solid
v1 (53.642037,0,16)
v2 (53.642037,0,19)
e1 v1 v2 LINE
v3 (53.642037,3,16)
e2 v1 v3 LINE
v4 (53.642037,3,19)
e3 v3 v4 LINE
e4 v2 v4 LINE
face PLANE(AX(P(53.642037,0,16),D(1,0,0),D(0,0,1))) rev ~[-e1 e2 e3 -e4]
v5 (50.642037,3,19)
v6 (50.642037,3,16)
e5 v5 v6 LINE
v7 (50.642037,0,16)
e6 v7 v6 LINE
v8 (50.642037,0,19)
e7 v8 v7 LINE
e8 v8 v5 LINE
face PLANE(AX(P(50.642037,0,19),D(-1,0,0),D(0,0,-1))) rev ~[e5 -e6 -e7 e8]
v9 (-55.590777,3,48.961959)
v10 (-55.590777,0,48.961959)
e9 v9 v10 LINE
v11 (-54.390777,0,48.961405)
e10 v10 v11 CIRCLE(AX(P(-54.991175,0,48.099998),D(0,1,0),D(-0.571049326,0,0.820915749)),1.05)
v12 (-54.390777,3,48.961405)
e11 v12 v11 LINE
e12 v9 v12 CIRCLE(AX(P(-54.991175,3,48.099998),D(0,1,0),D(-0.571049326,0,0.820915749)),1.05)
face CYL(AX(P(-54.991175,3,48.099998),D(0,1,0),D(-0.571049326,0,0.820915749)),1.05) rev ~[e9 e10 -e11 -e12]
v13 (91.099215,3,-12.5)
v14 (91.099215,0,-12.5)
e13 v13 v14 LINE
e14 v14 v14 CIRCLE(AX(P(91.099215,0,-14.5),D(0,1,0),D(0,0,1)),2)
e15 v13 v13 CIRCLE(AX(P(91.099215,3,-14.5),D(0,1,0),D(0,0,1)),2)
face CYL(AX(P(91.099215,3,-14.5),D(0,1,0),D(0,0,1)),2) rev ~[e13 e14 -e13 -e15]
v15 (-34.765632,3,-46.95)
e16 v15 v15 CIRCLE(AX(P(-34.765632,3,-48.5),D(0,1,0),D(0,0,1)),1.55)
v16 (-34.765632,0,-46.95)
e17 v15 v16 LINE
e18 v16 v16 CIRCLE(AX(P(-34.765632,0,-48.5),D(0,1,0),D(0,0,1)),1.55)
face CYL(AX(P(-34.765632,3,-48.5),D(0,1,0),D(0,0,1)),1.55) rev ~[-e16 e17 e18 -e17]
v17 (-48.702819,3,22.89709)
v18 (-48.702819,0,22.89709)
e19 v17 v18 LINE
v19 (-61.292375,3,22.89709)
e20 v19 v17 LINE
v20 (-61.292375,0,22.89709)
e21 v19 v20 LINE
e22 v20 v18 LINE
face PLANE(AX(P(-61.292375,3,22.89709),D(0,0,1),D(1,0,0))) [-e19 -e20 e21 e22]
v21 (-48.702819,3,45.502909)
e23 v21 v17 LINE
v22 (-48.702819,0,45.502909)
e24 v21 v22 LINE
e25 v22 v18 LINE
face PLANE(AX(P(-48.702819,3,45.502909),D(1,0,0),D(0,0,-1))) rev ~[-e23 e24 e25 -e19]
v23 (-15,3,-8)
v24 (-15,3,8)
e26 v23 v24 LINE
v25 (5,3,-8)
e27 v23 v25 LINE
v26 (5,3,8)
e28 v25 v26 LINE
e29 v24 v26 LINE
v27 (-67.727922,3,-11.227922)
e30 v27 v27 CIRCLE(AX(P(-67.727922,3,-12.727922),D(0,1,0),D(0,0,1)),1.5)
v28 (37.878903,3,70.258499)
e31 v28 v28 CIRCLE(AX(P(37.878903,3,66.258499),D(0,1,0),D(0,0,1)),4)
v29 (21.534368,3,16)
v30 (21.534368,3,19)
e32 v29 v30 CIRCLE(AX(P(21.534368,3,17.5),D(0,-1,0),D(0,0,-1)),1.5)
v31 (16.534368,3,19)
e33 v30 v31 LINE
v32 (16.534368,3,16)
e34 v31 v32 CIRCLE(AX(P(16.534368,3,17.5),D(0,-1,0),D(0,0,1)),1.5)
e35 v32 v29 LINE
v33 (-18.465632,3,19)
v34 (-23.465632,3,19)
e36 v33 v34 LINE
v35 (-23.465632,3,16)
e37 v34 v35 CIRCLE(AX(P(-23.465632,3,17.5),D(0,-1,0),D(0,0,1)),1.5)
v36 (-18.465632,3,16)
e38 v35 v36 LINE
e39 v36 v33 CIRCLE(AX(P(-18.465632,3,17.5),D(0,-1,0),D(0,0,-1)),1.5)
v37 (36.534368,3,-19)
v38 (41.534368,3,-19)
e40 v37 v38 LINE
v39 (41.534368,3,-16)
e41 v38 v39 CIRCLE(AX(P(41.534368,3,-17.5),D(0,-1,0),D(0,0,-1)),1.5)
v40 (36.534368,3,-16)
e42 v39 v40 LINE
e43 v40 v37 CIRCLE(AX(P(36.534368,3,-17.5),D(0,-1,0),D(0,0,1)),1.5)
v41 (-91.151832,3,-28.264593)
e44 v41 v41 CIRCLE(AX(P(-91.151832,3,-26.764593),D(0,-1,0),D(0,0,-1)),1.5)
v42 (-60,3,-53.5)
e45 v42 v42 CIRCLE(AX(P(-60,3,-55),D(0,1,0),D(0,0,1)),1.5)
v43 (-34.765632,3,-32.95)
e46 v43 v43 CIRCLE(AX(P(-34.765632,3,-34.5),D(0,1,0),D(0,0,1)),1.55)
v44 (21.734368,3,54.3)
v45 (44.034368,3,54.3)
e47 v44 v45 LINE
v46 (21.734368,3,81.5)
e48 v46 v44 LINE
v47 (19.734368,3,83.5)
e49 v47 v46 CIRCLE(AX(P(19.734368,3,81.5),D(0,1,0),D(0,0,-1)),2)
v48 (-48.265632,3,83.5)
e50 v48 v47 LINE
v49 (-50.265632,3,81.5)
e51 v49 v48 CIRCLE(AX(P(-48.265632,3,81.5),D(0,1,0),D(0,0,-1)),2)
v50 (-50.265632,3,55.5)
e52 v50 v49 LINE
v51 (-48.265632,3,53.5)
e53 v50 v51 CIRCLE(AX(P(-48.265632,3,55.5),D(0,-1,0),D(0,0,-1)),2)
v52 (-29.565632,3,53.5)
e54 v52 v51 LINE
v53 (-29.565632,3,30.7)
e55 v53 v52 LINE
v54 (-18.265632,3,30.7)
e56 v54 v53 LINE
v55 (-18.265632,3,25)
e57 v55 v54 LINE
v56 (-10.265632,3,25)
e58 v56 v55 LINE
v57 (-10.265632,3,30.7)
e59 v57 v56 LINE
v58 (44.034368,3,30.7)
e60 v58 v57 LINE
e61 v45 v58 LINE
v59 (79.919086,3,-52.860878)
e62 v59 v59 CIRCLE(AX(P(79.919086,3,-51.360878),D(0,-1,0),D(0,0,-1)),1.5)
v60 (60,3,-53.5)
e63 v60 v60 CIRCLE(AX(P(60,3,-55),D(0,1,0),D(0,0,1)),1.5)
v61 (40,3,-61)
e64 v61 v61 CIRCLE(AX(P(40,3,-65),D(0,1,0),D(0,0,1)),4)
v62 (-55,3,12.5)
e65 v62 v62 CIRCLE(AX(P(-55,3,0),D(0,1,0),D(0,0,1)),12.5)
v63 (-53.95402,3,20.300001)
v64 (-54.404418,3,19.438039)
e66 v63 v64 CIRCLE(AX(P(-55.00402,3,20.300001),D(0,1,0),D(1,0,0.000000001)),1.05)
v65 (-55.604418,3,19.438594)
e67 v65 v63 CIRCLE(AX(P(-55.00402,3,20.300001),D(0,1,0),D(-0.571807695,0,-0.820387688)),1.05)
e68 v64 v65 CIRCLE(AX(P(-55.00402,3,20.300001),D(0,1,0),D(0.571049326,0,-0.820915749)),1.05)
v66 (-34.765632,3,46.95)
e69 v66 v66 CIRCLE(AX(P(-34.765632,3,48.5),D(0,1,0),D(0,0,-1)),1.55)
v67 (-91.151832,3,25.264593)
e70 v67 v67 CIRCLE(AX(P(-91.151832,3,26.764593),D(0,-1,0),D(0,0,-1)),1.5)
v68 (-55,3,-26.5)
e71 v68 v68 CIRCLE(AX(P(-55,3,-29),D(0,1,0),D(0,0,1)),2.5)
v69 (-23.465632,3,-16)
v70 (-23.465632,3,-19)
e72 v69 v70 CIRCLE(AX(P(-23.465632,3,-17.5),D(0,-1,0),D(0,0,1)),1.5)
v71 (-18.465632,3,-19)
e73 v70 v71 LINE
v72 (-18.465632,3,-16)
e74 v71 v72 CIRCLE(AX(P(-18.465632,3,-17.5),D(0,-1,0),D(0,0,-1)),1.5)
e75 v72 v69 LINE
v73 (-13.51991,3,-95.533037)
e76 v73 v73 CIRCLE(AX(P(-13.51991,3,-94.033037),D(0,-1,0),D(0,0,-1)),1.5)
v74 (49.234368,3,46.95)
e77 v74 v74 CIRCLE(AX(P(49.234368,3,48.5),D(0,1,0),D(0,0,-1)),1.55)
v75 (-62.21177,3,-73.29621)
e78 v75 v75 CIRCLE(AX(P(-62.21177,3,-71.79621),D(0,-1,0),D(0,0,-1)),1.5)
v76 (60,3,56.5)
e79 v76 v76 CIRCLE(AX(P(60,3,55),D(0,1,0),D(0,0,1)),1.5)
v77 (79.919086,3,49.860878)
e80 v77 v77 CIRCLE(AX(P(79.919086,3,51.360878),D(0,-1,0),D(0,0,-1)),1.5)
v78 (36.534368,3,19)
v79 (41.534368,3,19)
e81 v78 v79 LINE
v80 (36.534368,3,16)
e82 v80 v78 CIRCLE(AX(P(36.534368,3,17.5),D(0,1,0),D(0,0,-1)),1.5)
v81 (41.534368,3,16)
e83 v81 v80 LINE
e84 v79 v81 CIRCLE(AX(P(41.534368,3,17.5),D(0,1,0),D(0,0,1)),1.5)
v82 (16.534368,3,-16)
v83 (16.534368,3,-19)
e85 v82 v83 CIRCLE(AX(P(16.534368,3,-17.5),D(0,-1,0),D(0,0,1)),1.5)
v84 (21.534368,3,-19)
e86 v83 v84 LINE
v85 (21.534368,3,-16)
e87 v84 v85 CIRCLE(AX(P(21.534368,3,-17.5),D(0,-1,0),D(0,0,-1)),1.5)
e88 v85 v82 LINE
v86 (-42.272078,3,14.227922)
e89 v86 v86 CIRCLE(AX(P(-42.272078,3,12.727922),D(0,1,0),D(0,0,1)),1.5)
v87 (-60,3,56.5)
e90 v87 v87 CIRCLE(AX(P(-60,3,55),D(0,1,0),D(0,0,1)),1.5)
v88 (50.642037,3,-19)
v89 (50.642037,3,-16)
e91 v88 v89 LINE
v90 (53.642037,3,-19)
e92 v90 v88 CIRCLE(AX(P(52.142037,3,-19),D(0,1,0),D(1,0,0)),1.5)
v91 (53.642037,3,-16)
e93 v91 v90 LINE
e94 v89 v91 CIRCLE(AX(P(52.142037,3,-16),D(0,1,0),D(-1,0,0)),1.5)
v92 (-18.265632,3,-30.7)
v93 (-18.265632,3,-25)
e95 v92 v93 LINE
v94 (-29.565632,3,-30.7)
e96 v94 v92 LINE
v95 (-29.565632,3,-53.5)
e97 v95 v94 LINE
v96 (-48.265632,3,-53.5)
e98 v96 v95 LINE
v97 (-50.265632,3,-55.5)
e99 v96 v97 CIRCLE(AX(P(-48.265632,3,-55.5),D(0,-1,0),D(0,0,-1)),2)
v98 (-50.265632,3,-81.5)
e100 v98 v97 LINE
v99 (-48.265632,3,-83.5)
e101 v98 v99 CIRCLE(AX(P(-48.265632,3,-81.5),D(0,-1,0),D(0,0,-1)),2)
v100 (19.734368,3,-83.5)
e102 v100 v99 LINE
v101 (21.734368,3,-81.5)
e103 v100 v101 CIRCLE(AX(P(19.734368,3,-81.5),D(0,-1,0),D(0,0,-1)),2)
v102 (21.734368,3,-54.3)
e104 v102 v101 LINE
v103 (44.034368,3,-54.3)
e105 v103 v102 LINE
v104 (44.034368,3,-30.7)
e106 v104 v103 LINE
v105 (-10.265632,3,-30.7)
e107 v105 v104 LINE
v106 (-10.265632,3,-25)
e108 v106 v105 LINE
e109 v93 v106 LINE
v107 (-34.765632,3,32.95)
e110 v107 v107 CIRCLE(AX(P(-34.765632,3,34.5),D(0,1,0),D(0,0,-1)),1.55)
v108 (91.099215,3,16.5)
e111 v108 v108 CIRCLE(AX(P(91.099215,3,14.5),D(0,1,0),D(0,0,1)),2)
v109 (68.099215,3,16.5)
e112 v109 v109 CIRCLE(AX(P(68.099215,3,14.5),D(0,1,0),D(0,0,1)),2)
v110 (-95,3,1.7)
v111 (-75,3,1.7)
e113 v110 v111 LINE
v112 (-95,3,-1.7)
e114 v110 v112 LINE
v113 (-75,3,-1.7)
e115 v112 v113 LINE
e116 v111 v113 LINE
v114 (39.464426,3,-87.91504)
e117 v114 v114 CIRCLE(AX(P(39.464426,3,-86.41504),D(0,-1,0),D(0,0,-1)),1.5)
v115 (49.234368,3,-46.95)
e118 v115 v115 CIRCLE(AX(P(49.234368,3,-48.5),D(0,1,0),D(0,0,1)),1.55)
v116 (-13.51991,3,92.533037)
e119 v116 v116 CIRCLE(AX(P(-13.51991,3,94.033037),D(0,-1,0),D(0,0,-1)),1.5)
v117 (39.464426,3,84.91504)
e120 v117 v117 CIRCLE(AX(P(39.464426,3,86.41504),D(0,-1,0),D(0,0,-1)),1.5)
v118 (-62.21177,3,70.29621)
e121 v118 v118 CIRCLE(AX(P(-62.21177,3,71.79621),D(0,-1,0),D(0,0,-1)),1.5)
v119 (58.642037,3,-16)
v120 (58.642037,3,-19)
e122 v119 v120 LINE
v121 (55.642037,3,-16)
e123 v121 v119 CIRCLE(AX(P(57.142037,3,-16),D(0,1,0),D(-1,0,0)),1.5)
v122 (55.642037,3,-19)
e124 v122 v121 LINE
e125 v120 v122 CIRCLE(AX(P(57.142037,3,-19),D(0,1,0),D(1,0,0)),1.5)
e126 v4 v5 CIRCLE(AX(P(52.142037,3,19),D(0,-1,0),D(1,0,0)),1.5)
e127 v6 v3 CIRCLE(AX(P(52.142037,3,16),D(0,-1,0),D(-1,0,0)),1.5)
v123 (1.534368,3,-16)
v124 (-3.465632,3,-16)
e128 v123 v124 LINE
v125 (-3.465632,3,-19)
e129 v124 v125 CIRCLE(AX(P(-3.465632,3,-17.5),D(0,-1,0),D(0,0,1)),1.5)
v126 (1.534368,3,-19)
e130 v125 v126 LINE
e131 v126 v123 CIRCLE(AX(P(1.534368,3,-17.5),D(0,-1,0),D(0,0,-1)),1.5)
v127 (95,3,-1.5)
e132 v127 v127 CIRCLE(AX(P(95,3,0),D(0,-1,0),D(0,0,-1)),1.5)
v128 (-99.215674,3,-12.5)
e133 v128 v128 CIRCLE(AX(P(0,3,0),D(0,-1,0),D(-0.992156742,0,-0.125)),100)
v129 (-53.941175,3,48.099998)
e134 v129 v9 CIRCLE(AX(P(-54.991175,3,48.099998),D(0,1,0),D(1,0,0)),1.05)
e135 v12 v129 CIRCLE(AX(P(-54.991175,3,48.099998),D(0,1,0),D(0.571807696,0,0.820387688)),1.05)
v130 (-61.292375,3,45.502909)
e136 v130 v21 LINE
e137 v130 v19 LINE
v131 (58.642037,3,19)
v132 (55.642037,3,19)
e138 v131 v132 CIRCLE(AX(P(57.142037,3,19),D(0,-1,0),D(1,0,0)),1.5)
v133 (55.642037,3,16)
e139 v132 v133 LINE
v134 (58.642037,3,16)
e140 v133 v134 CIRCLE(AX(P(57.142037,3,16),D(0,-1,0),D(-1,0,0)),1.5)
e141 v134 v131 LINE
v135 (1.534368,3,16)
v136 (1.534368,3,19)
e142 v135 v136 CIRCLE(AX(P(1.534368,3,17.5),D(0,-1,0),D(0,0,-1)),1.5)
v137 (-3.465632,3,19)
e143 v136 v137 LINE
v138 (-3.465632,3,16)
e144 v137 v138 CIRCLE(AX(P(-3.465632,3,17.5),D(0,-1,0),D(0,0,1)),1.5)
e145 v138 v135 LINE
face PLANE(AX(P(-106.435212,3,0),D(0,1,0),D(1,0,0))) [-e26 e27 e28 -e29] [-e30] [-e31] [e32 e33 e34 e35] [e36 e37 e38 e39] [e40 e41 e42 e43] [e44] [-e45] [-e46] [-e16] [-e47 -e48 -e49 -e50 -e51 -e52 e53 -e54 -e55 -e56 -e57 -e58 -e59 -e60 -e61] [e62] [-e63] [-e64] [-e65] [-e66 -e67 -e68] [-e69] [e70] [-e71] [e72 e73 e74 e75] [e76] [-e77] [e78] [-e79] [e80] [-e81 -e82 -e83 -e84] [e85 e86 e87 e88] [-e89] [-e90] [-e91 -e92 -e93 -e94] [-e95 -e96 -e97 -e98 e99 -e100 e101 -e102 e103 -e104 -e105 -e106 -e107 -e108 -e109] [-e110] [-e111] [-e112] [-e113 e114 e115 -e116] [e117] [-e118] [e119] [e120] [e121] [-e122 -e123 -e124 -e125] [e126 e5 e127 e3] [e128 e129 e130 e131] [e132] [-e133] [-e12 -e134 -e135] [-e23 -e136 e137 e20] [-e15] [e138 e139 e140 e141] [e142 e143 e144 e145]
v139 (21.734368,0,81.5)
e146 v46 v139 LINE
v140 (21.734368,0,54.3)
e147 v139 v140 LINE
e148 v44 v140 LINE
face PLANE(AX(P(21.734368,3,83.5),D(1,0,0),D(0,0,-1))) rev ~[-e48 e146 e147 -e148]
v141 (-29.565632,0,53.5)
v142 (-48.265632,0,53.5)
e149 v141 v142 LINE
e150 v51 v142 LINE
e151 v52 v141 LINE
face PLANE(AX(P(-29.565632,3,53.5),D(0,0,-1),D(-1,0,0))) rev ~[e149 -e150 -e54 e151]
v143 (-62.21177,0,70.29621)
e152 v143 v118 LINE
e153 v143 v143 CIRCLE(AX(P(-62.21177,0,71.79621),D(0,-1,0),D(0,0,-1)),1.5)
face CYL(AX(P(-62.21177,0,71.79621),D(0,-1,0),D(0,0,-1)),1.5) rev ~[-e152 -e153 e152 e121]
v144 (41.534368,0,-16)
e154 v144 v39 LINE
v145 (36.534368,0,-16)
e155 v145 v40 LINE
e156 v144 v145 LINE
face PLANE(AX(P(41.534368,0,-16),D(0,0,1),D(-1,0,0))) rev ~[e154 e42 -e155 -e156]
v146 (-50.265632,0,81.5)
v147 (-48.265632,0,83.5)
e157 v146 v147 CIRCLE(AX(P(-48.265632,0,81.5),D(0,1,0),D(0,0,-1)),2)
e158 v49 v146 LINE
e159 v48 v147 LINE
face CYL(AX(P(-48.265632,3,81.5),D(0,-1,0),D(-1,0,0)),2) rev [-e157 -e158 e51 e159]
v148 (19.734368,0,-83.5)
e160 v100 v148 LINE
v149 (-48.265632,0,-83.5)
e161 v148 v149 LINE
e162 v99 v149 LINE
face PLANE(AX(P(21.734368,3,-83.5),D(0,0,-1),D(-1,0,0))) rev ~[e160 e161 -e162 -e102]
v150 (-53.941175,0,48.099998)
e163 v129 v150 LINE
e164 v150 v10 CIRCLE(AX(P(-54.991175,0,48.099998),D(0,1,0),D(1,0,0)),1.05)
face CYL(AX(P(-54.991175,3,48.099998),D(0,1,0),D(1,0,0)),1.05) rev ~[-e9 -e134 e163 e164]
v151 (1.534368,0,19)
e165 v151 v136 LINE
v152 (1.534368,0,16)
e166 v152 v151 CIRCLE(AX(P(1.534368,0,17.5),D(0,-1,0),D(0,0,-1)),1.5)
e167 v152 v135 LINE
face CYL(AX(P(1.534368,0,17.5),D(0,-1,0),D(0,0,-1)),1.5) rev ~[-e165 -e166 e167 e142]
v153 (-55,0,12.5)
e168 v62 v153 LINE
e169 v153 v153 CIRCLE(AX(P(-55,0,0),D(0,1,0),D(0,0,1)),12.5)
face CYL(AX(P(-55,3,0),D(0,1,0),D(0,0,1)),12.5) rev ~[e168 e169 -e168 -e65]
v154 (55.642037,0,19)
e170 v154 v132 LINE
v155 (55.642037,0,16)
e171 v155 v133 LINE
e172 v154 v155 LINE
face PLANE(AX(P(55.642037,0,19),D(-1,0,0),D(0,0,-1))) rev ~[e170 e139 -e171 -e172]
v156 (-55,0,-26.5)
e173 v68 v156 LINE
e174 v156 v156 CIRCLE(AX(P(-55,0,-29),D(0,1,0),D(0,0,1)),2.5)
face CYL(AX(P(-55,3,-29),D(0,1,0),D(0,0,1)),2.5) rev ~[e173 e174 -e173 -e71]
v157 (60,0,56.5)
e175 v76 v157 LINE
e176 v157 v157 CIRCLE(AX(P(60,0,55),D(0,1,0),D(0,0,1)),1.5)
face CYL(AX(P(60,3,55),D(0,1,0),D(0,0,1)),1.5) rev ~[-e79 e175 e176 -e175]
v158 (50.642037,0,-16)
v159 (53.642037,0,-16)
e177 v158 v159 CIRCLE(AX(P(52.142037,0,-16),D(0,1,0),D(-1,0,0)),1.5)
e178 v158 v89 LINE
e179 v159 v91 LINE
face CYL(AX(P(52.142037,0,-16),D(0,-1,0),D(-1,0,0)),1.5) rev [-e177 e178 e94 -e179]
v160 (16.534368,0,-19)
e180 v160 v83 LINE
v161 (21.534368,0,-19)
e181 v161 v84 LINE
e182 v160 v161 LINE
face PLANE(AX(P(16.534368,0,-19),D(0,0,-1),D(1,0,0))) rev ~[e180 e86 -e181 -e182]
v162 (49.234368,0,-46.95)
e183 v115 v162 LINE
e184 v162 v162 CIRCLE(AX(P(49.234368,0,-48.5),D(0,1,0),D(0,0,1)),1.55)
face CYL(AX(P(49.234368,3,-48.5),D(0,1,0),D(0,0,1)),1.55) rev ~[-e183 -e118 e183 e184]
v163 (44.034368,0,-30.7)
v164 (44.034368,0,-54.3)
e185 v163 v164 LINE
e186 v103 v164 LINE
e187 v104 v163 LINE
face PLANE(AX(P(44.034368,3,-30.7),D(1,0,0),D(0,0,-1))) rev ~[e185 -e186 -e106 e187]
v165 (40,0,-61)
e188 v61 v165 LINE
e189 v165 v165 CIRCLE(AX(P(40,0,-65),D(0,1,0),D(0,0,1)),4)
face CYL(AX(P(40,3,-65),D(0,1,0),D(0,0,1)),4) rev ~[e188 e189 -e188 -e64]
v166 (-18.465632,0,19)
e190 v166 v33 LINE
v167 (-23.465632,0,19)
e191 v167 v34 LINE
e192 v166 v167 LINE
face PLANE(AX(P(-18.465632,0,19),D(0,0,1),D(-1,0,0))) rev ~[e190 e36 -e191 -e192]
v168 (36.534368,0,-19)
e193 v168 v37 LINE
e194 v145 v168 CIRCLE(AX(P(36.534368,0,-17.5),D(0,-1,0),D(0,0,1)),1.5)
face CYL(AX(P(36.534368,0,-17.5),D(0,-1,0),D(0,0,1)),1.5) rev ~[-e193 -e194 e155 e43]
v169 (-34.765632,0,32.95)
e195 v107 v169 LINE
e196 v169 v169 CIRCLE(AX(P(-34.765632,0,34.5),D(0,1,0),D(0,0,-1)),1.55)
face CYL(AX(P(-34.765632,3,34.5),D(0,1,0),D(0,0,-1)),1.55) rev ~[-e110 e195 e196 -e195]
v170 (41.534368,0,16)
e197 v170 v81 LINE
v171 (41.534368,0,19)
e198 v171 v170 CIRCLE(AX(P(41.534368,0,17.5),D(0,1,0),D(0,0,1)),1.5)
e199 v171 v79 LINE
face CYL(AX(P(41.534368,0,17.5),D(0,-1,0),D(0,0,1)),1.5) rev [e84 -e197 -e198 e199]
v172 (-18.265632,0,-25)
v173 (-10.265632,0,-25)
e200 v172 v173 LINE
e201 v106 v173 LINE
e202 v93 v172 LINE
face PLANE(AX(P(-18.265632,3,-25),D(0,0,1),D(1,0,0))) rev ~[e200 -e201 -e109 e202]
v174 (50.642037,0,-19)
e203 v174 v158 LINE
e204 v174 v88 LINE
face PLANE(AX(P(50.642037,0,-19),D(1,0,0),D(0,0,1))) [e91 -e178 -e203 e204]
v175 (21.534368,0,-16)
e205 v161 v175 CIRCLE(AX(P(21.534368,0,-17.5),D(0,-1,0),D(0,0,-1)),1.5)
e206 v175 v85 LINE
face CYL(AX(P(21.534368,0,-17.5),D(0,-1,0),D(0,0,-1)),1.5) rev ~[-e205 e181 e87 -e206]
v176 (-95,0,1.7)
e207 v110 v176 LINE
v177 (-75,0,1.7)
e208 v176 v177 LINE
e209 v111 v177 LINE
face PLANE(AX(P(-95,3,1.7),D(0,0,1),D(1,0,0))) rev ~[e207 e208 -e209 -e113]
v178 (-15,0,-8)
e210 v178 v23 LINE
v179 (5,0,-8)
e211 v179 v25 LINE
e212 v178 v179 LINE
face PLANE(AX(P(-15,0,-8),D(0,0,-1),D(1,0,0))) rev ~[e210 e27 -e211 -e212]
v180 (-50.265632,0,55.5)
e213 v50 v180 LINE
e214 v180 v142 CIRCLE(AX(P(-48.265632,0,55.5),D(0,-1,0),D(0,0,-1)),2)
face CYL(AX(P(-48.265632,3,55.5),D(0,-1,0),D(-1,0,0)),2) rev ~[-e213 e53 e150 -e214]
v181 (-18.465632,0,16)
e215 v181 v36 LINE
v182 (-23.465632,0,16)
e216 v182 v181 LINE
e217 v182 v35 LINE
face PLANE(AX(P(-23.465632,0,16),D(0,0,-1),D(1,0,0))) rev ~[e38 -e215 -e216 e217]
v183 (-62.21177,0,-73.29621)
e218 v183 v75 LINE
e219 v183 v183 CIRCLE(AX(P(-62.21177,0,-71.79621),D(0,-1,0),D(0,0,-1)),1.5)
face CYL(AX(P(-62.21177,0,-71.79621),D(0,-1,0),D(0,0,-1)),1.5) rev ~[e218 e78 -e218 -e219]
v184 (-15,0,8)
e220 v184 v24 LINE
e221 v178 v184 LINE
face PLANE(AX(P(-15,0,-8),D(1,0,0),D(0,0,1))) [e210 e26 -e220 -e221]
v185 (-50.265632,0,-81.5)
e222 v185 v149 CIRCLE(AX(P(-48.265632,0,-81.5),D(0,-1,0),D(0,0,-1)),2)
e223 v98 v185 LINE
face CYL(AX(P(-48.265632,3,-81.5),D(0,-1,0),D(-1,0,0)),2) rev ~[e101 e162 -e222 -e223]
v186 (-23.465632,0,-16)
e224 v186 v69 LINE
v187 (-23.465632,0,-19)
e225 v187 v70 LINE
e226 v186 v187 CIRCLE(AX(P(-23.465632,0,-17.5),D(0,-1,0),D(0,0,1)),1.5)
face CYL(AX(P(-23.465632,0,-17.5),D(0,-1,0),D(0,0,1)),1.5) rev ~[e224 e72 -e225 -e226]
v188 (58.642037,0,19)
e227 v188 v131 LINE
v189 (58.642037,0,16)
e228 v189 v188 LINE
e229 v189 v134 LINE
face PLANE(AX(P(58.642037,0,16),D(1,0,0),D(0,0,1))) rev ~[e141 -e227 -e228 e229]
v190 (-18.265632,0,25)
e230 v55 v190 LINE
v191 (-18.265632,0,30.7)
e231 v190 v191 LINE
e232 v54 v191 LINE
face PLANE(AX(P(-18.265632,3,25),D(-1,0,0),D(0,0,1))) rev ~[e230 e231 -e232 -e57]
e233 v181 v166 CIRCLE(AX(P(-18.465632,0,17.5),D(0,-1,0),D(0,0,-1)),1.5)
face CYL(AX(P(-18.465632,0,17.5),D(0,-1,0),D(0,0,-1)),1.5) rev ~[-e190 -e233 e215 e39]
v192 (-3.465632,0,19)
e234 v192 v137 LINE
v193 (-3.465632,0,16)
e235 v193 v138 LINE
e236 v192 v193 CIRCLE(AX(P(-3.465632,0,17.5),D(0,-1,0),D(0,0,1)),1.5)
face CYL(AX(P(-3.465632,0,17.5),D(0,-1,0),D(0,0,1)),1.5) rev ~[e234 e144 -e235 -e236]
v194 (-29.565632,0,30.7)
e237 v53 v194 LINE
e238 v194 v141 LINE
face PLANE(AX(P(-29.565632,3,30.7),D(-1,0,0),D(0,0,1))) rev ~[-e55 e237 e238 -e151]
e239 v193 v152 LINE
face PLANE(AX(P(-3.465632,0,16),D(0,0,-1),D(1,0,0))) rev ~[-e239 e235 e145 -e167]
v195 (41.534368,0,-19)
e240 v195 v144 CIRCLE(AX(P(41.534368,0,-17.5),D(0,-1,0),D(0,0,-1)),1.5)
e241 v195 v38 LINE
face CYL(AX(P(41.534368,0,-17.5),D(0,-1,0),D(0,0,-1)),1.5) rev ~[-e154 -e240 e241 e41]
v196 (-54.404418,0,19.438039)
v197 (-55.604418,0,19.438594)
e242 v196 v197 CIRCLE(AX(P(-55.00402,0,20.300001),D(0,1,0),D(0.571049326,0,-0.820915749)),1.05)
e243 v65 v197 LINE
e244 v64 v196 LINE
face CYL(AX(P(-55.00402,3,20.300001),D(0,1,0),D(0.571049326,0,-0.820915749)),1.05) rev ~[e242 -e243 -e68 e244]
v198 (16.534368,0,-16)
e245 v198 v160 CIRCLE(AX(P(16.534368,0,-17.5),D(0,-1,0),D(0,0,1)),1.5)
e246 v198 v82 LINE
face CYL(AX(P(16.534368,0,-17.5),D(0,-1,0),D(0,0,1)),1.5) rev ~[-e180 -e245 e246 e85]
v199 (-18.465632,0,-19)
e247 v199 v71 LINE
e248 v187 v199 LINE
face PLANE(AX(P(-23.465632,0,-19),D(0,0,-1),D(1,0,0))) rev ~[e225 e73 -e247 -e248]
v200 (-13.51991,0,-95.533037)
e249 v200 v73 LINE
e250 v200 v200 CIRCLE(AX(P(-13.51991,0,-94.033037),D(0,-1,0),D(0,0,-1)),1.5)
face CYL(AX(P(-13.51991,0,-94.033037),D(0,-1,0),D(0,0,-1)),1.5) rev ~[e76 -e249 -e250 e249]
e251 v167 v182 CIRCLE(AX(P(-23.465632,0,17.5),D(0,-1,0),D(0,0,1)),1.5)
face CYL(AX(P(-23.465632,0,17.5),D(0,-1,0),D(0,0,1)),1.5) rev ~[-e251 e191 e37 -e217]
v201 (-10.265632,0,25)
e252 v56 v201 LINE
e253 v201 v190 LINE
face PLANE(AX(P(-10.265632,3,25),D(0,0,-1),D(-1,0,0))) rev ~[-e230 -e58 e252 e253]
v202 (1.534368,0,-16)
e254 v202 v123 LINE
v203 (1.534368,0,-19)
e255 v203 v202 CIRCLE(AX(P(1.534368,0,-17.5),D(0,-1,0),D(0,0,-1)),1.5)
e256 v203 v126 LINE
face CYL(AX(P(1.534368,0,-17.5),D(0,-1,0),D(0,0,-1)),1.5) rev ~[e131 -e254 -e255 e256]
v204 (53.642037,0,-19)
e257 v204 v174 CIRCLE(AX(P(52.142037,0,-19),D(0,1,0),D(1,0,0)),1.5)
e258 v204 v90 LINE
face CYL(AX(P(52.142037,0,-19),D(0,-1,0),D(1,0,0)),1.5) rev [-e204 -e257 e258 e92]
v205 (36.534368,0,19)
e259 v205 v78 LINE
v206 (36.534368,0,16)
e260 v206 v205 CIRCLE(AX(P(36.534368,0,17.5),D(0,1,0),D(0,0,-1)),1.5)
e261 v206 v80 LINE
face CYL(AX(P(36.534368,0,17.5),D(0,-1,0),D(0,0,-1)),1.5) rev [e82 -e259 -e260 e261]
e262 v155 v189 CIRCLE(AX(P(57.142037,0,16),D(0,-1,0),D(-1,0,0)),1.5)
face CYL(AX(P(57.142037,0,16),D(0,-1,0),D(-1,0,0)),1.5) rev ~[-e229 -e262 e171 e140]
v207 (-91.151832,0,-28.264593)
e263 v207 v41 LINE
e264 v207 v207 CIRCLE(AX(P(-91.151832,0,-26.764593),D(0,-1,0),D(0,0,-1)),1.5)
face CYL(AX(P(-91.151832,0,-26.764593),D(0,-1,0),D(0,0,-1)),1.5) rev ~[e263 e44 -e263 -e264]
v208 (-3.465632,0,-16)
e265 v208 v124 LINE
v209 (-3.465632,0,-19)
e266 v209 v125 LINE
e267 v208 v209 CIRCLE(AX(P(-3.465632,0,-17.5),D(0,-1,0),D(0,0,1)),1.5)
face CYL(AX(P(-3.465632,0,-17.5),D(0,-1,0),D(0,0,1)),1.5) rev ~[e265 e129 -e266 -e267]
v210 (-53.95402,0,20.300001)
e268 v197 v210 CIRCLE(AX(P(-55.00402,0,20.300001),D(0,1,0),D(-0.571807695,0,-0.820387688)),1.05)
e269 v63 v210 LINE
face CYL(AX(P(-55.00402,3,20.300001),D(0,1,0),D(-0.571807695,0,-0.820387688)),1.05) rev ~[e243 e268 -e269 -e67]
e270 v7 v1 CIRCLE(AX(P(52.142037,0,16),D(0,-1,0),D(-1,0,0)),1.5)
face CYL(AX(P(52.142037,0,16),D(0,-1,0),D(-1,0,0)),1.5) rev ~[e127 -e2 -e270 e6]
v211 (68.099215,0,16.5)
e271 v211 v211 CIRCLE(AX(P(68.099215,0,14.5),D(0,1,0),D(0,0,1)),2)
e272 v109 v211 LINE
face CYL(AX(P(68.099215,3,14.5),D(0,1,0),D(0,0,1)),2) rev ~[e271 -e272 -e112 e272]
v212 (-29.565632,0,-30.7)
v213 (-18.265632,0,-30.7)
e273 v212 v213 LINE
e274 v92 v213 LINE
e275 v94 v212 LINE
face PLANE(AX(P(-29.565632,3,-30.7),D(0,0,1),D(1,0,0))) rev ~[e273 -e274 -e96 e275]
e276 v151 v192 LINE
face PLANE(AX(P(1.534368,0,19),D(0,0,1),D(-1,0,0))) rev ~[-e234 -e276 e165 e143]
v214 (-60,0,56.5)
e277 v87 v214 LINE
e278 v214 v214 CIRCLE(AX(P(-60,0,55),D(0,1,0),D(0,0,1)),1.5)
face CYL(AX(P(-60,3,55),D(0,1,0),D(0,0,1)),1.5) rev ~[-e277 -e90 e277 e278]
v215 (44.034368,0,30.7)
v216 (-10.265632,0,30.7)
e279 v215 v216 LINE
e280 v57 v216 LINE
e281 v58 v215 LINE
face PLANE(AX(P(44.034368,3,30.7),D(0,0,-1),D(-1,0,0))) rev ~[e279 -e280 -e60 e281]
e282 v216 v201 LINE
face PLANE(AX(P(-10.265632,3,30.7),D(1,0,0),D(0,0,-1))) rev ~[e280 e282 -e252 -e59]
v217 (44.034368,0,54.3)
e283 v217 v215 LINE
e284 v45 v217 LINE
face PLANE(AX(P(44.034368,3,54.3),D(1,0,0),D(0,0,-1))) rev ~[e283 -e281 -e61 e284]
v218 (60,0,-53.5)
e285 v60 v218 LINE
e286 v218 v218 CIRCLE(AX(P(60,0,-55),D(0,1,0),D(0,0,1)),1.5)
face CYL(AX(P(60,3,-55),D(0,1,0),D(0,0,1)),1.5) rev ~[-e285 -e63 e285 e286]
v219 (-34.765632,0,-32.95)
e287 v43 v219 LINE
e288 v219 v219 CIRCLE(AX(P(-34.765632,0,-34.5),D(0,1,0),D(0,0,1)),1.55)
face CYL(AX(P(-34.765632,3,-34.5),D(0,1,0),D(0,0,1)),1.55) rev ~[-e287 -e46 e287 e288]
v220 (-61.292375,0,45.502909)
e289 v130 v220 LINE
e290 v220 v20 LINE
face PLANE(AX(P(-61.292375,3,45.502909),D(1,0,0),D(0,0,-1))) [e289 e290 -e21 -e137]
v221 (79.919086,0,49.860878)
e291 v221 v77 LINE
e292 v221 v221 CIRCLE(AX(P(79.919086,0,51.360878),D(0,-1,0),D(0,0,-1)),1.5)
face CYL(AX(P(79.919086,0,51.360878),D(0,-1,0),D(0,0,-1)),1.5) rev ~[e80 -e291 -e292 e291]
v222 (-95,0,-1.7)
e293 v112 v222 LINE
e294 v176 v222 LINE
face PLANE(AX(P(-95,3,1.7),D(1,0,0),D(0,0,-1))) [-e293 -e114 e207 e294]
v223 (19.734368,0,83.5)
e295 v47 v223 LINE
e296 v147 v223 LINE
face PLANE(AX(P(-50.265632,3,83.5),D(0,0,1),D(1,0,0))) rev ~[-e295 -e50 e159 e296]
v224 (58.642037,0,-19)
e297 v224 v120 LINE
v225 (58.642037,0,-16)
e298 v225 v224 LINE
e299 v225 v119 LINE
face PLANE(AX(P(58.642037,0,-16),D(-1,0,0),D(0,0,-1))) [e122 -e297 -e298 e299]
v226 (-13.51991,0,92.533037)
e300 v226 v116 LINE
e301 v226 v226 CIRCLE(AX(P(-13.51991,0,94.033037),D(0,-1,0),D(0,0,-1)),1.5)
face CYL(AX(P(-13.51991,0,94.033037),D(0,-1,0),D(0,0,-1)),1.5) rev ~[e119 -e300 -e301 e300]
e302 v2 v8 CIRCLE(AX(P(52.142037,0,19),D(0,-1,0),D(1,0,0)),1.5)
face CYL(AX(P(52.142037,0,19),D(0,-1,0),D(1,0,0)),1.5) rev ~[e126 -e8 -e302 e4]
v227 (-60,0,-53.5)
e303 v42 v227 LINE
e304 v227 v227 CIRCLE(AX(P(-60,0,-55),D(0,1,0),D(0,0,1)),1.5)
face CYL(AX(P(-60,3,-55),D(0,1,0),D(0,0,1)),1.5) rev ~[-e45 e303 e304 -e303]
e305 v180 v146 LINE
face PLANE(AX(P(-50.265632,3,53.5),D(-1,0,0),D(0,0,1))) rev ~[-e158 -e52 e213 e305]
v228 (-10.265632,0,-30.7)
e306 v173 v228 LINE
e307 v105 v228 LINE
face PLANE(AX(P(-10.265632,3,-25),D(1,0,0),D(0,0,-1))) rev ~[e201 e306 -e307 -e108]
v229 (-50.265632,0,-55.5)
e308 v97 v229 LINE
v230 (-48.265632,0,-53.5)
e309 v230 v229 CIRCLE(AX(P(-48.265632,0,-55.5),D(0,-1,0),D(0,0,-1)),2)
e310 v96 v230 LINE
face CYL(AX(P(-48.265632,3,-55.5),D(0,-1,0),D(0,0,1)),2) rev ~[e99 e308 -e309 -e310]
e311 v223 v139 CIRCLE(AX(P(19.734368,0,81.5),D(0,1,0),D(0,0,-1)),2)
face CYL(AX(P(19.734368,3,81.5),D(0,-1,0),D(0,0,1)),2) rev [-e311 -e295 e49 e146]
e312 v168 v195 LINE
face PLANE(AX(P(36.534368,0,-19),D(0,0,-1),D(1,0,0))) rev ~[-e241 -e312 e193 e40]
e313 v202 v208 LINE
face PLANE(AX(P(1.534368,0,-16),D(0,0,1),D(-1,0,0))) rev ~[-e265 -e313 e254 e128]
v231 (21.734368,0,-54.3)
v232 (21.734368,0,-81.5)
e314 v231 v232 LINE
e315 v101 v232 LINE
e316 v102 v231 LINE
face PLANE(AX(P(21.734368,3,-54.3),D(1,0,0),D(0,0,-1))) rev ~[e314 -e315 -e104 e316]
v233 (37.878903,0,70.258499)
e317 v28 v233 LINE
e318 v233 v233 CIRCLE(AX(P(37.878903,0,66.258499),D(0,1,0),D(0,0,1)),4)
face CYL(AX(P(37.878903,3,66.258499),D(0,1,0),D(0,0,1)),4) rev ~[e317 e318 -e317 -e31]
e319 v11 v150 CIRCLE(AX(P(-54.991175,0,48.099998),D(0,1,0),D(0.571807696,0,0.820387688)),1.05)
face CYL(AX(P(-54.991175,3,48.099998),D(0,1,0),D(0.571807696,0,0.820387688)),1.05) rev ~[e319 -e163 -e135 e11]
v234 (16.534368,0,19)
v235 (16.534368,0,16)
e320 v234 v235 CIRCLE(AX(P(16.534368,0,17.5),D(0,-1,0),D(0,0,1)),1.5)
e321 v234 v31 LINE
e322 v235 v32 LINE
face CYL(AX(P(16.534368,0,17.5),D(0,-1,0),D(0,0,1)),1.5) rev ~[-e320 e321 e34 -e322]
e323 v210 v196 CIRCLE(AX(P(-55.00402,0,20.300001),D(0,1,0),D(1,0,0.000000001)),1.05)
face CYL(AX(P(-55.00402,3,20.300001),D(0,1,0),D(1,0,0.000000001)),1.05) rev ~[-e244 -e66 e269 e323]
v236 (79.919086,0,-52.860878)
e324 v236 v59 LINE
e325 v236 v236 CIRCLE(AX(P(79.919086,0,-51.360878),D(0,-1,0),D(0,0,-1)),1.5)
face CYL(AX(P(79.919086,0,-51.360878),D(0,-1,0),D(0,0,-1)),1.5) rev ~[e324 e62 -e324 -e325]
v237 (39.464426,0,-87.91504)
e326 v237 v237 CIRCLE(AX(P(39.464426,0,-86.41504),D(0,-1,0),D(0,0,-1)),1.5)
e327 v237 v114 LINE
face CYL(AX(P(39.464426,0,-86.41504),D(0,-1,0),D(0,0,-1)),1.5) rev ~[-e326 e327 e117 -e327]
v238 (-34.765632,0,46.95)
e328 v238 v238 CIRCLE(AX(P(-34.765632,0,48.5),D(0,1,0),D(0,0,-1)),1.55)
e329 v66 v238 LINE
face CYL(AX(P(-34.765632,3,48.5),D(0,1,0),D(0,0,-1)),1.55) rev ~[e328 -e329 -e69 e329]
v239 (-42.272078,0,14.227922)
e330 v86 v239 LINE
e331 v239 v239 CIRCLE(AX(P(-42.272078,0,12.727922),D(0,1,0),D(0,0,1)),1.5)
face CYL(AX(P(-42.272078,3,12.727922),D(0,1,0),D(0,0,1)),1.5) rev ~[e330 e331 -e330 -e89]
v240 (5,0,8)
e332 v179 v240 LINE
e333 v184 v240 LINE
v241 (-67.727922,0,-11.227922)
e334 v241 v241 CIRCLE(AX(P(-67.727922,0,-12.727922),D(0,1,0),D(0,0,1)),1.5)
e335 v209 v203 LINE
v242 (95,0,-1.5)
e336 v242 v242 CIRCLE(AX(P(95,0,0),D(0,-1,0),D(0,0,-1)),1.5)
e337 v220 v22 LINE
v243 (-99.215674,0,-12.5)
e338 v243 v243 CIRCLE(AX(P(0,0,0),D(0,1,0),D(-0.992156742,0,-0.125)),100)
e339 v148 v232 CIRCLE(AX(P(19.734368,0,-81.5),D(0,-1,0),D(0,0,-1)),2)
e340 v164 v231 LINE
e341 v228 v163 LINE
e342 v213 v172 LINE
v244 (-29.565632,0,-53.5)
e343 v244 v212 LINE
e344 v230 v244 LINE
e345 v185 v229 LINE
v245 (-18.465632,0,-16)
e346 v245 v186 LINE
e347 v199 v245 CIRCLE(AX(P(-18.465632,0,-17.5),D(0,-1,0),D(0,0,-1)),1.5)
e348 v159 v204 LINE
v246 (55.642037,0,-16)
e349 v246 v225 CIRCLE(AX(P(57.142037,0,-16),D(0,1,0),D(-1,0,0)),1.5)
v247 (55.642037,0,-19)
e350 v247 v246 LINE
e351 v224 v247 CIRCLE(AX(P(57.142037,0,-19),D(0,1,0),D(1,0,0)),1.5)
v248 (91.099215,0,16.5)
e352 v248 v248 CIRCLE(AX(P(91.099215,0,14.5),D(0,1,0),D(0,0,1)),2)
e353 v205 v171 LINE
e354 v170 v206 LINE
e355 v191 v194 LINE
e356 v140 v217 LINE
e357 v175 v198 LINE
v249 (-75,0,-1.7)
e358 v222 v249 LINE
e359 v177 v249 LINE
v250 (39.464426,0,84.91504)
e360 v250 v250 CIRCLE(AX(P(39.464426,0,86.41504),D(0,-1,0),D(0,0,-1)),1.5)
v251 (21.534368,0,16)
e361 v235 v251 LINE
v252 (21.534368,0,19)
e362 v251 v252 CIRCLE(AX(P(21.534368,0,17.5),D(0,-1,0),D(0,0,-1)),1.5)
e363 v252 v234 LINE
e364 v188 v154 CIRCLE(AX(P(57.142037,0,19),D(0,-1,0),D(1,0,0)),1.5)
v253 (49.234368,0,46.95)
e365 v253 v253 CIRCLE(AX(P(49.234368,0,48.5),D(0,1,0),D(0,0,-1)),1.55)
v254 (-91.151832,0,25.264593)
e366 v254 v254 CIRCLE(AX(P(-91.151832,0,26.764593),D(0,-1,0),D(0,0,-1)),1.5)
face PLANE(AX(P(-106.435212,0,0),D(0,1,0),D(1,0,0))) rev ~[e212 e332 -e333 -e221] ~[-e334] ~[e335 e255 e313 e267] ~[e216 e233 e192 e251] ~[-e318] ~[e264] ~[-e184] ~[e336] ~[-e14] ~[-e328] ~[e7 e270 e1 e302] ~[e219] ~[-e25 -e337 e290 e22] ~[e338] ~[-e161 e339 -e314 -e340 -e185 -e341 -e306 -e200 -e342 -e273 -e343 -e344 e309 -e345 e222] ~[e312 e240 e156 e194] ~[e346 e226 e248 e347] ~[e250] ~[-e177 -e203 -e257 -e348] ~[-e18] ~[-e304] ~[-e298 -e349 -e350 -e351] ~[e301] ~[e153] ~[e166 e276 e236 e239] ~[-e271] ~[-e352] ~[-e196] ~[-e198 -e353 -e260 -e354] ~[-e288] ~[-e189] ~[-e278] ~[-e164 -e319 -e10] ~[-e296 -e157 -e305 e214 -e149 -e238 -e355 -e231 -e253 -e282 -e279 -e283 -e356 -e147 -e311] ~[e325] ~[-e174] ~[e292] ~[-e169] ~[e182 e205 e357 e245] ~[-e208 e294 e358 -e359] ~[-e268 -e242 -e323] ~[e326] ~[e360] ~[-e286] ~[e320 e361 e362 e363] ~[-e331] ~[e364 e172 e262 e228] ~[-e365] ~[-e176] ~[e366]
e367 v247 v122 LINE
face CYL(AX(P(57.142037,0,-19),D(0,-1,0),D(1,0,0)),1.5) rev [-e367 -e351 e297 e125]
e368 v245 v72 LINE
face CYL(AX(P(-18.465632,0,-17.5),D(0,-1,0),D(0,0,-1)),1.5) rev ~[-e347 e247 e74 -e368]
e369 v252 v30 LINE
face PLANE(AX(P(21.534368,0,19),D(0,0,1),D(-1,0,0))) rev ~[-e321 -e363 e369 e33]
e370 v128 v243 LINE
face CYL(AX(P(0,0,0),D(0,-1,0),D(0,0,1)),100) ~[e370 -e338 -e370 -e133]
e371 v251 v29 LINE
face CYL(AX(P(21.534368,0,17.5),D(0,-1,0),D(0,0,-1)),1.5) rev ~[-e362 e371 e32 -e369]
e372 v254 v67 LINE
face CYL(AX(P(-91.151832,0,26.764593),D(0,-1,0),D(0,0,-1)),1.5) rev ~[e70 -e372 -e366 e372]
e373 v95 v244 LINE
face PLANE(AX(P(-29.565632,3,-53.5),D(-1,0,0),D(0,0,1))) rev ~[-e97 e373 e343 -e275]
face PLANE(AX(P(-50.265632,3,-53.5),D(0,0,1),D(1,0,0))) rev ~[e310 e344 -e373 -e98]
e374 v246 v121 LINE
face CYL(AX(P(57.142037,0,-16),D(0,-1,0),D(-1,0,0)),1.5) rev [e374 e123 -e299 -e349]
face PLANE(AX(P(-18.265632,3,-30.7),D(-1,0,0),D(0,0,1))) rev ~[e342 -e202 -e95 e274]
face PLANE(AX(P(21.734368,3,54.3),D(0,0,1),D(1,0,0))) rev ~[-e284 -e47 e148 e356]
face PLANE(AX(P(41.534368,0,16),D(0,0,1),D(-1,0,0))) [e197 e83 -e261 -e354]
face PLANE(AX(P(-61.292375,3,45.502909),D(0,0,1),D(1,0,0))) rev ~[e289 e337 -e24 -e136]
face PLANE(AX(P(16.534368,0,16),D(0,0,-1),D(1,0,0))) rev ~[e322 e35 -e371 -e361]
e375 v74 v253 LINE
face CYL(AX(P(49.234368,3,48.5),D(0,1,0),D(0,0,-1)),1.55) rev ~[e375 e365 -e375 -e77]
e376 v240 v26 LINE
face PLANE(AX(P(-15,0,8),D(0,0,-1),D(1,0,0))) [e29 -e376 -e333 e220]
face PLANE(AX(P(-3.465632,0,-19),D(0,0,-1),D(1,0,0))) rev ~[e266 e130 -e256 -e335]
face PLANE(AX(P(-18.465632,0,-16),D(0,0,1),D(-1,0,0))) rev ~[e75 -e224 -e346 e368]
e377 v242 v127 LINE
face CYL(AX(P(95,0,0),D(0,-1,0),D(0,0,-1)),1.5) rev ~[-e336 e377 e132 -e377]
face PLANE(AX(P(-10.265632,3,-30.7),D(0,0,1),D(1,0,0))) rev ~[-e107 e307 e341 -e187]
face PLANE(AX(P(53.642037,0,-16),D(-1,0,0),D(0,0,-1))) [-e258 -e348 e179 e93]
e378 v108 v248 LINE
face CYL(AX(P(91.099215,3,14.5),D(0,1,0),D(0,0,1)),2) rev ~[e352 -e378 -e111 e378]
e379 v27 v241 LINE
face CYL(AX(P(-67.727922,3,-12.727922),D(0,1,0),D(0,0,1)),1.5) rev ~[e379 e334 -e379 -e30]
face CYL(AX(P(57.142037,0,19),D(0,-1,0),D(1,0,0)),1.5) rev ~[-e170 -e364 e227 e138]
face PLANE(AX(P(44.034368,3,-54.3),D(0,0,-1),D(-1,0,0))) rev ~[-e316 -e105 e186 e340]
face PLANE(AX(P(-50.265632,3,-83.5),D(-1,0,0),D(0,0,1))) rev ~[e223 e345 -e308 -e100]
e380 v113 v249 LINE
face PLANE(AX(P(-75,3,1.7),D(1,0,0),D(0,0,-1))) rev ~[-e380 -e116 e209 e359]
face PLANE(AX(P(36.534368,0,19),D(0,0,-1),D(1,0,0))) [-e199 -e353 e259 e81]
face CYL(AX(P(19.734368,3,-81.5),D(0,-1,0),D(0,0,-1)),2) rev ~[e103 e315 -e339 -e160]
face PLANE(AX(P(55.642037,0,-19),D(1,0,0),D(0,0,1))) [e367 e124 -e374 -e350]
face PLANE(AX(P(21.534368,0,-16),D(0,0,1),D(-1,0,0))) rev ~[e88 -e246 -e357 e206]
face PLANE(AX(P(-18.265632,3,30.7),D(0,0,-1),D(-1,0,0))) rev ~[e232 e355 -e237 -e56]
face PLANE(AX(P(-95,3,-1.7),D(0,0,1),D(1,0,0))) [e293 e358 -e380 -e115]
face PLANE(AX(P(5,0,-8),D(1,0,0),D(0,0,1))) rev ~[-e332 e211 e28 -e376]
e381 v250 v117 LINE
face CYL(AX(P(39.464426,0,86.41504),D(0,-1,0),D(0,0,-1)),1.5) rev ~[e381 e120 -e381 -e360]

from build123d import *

# Parameters (mm, degrees)
SKETCH_2_R           = 100
EXTRUDE_1_DEPTH      = 3
SKETCH_4_R           = 12.5
CUT_EXTRUDE_2_DEPTH  = 3
SKETCH_5_R           = 1.5
CUT_EXTRUDE_3_DEPTH  = 3
SKETCH_6_R           = 4
CUT_EXTRUDE_4_DEPTH  = 10
EXTRUDE_2_DEPTH      = 3
SKETCH_9_W           = 20
SKETCH_9_H           = 3.4
CUT_EXTRUDE_6_DEPTH  = 3
SKETCH_11_R          = 2.5
CUT_EXTRUDE_9_DEPTH  = 10
CUT_EXTRUDE_START    = -10
SKETCH_12_R          = 174.046690734
SKETCH_12_R_2        = 100
CUT_EXTRUDE_10_DEPTH = 10
SKETCH_13_R          = 1.55
CUT_EXTRUDE_12_DEPTH = 3
SKETCH_16_W          = 12.589556248
SKETCH_16_H          = 22.605819461
SKETCH_16_R          = 2.5
CUT_EXTRUDE_14_DEPTH = 3
CUT_EXTRUDE_15_DEPTH = 3
SKETCH_18_W          = 20
SKETCH_18_H          = 16
CUT_EXTRUDE_16_DEPTH = 3
SKETCH_19_R          = 1.5
CUT_EXTRUDE_17_DEPTH = 3
SKETCH_20_R          = 1.5
CUT_EXTRUDE_18_DEPTH = 3
CUT_EXTRUDE_19_DEPTH = 3
FILLET_1_R           = 2
SKETCH_14_R          = 2
CUT_EXTRUDE_21_DEPTH = 10


with BuildPart() as part:
    # 草圖2 → 填料-伸長1 (new body)
    with BuildSketch(Plane(origin=(0, 0, 0), x_dir=(1, 0, 0), z_dir=(0, 1, 0))):
        with Locations(Location((0, 0, 0), (0, 0, 270))):
            Circle(SKETCH_2_R)
    extrude(amount=EXTRUDE_1_DEPTH)

    # 草圖4 → 除料-伸長2 (cut)
    with BuildSketch(Plane(origin=(0, 3, 0), x_dir=(1, 0, 0), z_dir=(0, 1, 0))):
        with Locations(Location((-55, 0, 0), (0, 0, 270))):
            Circle(SKETCH_4_R)
    extrude(amount=-CUT_EXTRUDE_2_DEPTH, mode=Mode.SUBTRACT)

    # 草圖5 → 除料-伸長3 (cut)
    with BuildSketch(Plane(origin=(0, 3, 0), x_dir=(1, 0, 0), z_dir=(0, 1, 0))):
        with Locations(Location((-60, 55, 0), (0, 0, 270))):
            Circle(SKETCH_5_R)
        with Locations(Location((-60, -55, 0), (0, 0, 270))):
            Circle(SKETCH_5_R)
        with Locations(Location((60, -55, 0), (0, 0, 270))):
            Circle(SKETCH_5_R)
        with Locations(Location((60, 55, 0), (0, 0, 270))):
            Circle(SKETCH_5_R)
    extrude(amount=-CUT_EXTRUDE_3_DEPTH, mode=Mode.SUBTRACT)

    # 草圖6 → 除料-伸長4 (cut)
    with BuildSketch(Plane(origin=(0, 3, 0), x_dir=(1, 0, 0), z_dir=(0, 1, 0))):
        with Locations(Location((40, 65, 0), (0, 0, 270))):
            Circle(SKETCH_6_R)
        with Locations(Location((37.878902577, -66.258499376, 0), (0, 0, 270))):
            Circle(SKETCH_6_R)
    extrude(amount=-CUT_EXTRUDE_4_DEPTH, mode=Mode.SUBTRACT)

    # 草圖8 → 填料-伸長2 (add)
    with BuildSketch(Plane(origin=(0, 3, 0), x_dir=(1, 0, 0), z_dir=(0, 1, 0))):
        with BuildLine():
            Line((-99.215674165, 12.5), (-111.215674165, 12.5))
            ThreePointArc((-111.215674165, 12.5), (-113.336994508, 11.621320344), (-114.215674165, 9.5))
            Line((-114.215674165, 9.5), (-114.215674165, -9.5))
            ThreePointArc((-114.215674165, -9.5), (-113.336994508, -11.621320344), (-111.215674165, -12.5))
            Line((-111.215674165, -12.5), (-99.215674165, -12.5))
            Line((-99.215674165, -12.5), (-99.215674165, 12.5))
        make_face()
    extrude(amount=-EXTRUDE_2_DEPTH)

    # 草圖9 → 除料-伸長6 (cut)
    with BuildSketch(Plane(origin=(0, 3, 0), x_dir=(1, 0, 0), z_dir=(0, 1, 0))):
        with Locations((-85, 0)):
            Rectangle(SKETCH_9_W, SKETCH_9_H)
    extrude(amount=-CUT_EXTRUDE_6_DEPTH, mode=Mode.SUBTRACT)

    # 草圖11 → 除料-伸長9 (cut)
    with BuildSketch(Plane(origin=(0, 3, 0), x_dir=(1, 0, 0), z_dir=(0, 1, 0))):
        with Locations(Location((-55, -29, 0), (0, 0, 270))):
            Circle(SKETCH_11_R)
        with Locations(Location((-55, 29, 0), (0, 0, 270))):
            Circle(SKETCH_11_R)
    extrude(amount=-CUT_EXTRUDE_9_DEPTH, mode=Mode.SUBTRACT)

    # 草圖12 → 除料-伸長10 (cut)
    with BuildSketch(Plane(origin=(0, 3, 0), x_dir=(1, 0, 0), z_dir=(0, 1, 0)).offset(CUT_EXTRUDE_START)):
        Circle(SKETCH_12_R)
        with Locations(Location((0, 0, 0), (0, 0, 270))):
            Circle(SKETCH_12_R_2, mode=Mode.SUBTRACT)
    extrude(amount=CUT_EXTRUDE_10_DEPTH, mode=Mode.SUBTRACT)

    # 草圖13 → 除料-伸長12 (cut)
    with BuildSketch(Plane(origin=(0, 3, 0), x_dir=(1, 0, 0), z_dir=(0, 1, 0))):
        Polygon((-29.565632174, 30.7), (-18.265632174, 30.7), (-18.265632174, 25), (-10.265632174, 25), (-10.265632174, 30.7), (44.034367826, 30.7), (44.034367826, 54.3), (21.734367826, 54.3), (21.734367826, 83.5), (-50.265632174, 83.5), (-50.265632174, 53.5), (-29.565632174, 53.5), align=None)
        Polygon((-50.265632174, -53.5), (-50.265632174, -83.5), (21.734367826, -83.5), (21.734367826, -54.3), (44.034367826, -54.3), (44.034367826, -30.7), (-10.265632174, -30.7), (-10.265632174, -25), (-18.265632174, -25), (-18.265632174, -30.7), (-29.565632174, -30.7), (-29.565632174, -53.5), align=None)
        with Locations(Location((-34.765632174, 34.5, 0), (0, 0, 270))):
            Circle(SKETCH_13_R)
        with Locations(Location((49.234367826, 48.5, 0), (0, 0, 270))):
            Circle(SKETCH_13_R)
        with Locations(Location((-34.765632174, 48.5, 0), (0, 0, 270))):
            Circle(SKETCH_13_R)
        with Locations(Location((-34.765632174, -34.5, 0), (0, 0, 90))):
            Circle(SKETCH_13_R)
        with Locations(Location((49.234367826, -48.5, 0), (0, 0, 90))):
            Circle(SKETCH_13_R)
        with Locations(Location((-34.765632174, -48.5, 0), (0, 0, 90))):
            Circle(SKETCH_13_R)
    extrude(amount=-CUT_EXTRUDE_12_DEPTH, mode=Mode.SUBTRACT)

    # 草圖16 → 除料-伸長14 (cut)
    # profile 1 of 3: a face of its own
    with BuildSketch(Plane(origin=(0, 3, 0), x_dir=(1, 0, 0), z_dir=(0, 1, 0))):
        with Locations((-54.997597322, -34.199999445)):
            Rectangle(SKETCH_16_W, SKETCH_16_H)
        with Locations((-55, -29)):
            Circle(SKETCH_16_R, mode=Mode.SUBTRACT)
    # profile 2 of 3: a face of its own
    with BuildSketch(Plane(origin=(0, 3, 0), x_dir=(1, 0, 0), z_dir=(0, 1, 0))):
        with BuildLine():
            ThreePointArc((-55.590776571, -48.961959498), (-54.990689623, -49.149997849), (-54.390776699, -48.961405034))
            ThreePointArc((-54.390776699, -48.961405034), (-54.060336989, -48.585838478), (-53.941174779, -48.099997961))
            ThreePointArc((-53.941174779, -48.099997961), (-55.477445341, -47.169384754), (-55.590776571, -48.961959498))
        make_face()
    # profile 3 of 3: a face of its own
    with BuildSketch(Plane(origin=(0, 3, 0), x_dir=(1, 0, 0), z_dir=(0, 1, 0))):
        with BuildLine():
            ThreePointArc((-54.404418073, -19.438039392), (-55.004505021, -19.250001041), (-55.604417945, -19.438593856))
            ThreePointArc((-55.604417945, -19.438593856), (-55.489860382, -21.230838719), (-53.954019865, -20.300000929))
            ThreePointArc((-53.954019865, -20.300000929), (-54.073406658, -19.813730367), (-54.404418073, -19.438039392))
        make_face()
    extrude(amount=-CUT_EXTRUDE_14_DEPTH, mode=Mode.SUBTRACT)

    # 草圖17 → 除料-伸長15 (cut)
    with BuildSketch(Plane.XZ):
        with BuildLine():
            Line((36.534367826, 19.000000035), (41.534367826, 19.000000035))
            ThreePointArc((41.534367826, 19.000000035), (43.034367826, 17.500000035), (41.534367826, 16.000000035))
            Line((41.534367826, 16.000000035), (36.534367826, 16.000000035))
            ThreePointArc((36.534367826, 16.000000035), (35.034367826, 17.500000035), (36.534367826, 19.000000035))
        make_face()
        with BuildLine():
            Line((16.534367826, 16.000000035), (21.534367826, 16.000000035))
            ThreePointArc((21.534367826, 16.000000035), (23.034367826, 17.500000035), (21.534367826, 19.000000035))
            Line((21.534367826, 19.000000035), (16.534367826, 19.000000035))
            ThreePointArc((16.534367826, 19.000000035), (15.034367826, 17.500000035), (16.534367826, 16.000000035))
        make_face()
        with BuildLine():
            Line((-3.465632174, 16.000000035), (1.534367826, 16.000000035))
            ThreePointArc((1.534367826, 16.000000035), (3.034367826, 17.500000035), (1.534367826, 19.000000035))
            Line((1.534367826, 19.000000035), (-3.465632174, 19.000000035))
            ThreePointArc((-3.465632174, 19.000000035), (-4.965632174, 17.500000035), (-3.465632174, 16.000000035))
        make_face()
        with BuildLine():
            Line((-23.465632174, 16.000000035), (-18.465632174, 16.000000035))
            ThreePointArc((-18.465632174, 16.000000035), (-16.965632174, 17.500000035), (-18.465632174, 19.000000035))
            Line((-18.465632174, 19.000000035), (-23.465632174, 19.000000035))
            ThreePointArc((-23.465632174, 19.000000035), (-24.965632174, 17.500000035), (-23.465632174, 16.000000035))
        make_face()
        with BuildLine():
            Line((36.534367826, -19.000000035), (41.534367826, -19.000000035))
            ThreePointArc((41.534367826, -19.000000035), (43.034367826, -17.500000035), (41.534367826, -16.000000035))
            Line((41.534367826, -16.000000035), (36.534367826, -16.000000035))
            ThreePointArc((36.534367826, -16.000000035), (35.034367826, -17.500000035), (36.534367826, -19.000000035))
        make_face()
        with BuildLine():
            Line((16.534367826, -19.000000035), (21.534367826, -19.000000035))
            ThreePointArc((21.534367826, -19.000000035), (23.034367826, -17.500000035), (21.534367826, -16.000000035))
            Line((21.534367826, -16.000000035), (16.534367826, -16.000000035))
            ThreePointArc((16.534367826, -16.000000035), (15.034367826, -17.500000035), (16.534367826, -19.000000035))
        make_face()
        with BuildLine():
            Line((-3.465632174, -19.000000035), (1.534367826, -19.000000035))
            ThreePointArc((1.534367826, -19.000000035), (3.034367826, -17.500000035), (1.534367826, -16.000000035))
            Line((1.534367826, -16.000000035), (-3.465632174, -16.000000035))
            ThreePointArc((-3.465632174, -16.000000035), (-4.965632174, -17.500000035), (-3.465632174, -19.000000035))
        make_face()
        with BuildLine():
            Line((-23.465632174, -19.000000035), (-18.465632174, -19.000000035))
            ThreePointArc((-18.465632174, -19.000000035), (-16.965632174, -17.500000035), (-18.465632174, -16.000000035))
            Line((-18.465632174, -16.000000035), (-23.465632174, -16.000000035))
            ThreePointArc((-23.465632174, -16.000000035), (-24.965632174, -17.500000035), (-23.465632174, -19.000000035))
        make_face()
    extrude(amount=-CUT_EXTRUDE_15_DEPTH, mode=Mode.SUBTRACT)

    # 草圖18 → 除料-伸長16 (cut)
    with BuildSketch(Plane.XZ):
        with Locations((-5, 0)):
            Rectangle(SKETCH_18_W, SKETCH_18_H)
    extrude(amount=-CUT_EXTRUDE_16_DEPTH, mode=Mode.SUBTRACT)

    # 草圖19 → 除料-伸長17 (cut)
    with BuildSketch(Plane(origin=(0, 3, 0), x_dir=(1, 0, 0), z_dir=(0, 1, 0))):
        with Locations(Location((-67.727922061, 12.727922061, 0), (0, 0, 270))):
            Circle(SKETCH_19_R)
        with Locations(Location((-42.272077939, -12.727922061, 0), (0, 0, 270))):
            Circle(SKETCH_19_R)
    extrude(amount=-CUT_EXTRUDE_17_DEPTH, mode=Mode.SUBTRACT)

    # 草圖20 → 除料-伸長18 (cut)
    with BuildSketch(Plane.XZ):
        with Locations(Location((95, 0, 0), (0, 0, 270))):
            Circle(SKETCH_20_R)
        with Locations(Location((79.919085619, -51.360877658, 0), (0, 0, 270))):
            Circle(SKETCH_20_R)
        with Locations(Location((39.464426235, -86.415039559, 0), (0, 0, 270))):
            Circle(SKETCH_20_R)
        with Locations(Location((-13.519909636, -94.033036979, 0), (0, 0, 270))):
            Circle(SKETCH_20_R)
        with Locations(Location((-62.211769725, -71.796209564, 0), (0, 0, 270))):
            Circle(SKETCH_20_R)
        with Locations(Location((-91.151832493, -26.7645929, 0), (0, 0, 270))):
            Circle(SKETCH_20_R)
        with Locations(Location((-91.151832493, 26.7645929, 0), (0, 0, 270))):
            Circle(SKETCH_20_R)
        with Locations(Location((-62.211769725, 71.796209564, 0), (0, 0, 270))):
            Circle(SKETCH_20_R)
        with Locations(Location((-13.519909636, 94.033036979, 0), (0, 0, 270))):
            Circle(SKETCH_20_R)
        with Locations(Location((39.464426235, 86.415039559, 0), (0, 0, 270))):
            Circle(SKETCH_20_R)
        with Locations(Location((79.919085619, 51.360877658, 0), (0, 0, 270))):
            Circle(SKETCH_20_R)
    extrude(amount=-CUT_EXTRUDE_18_DEPTH, mode=Mode.SUBTRACT)

    # 草圖21 → 除料-伸長19 (cut)
    with BuildSketch(Plane.XZ):
        with BuildLine():
            Line((50.642037027, -19.000000035), (50.642037027, -16.000000035))
            ThreePointArc((50.642037027, -16.000000035), (52.142037027, -14.500000035), (53.642037027, -16.000000035))
            Line((53.642037027, -16.000000035), (53.642037027, -19.000000035))
            ThreePointArc((53.642037027, -19.000000035), (52.142037027, -20.500000035), (50.642037027, -19.000000035))
        make_face()
        with BuildLine():
            Line((55.642037027, -19.000000035), (55.642037027, -16.000000035))
            ThreePointArc((55.642037027, -16.000000035), (57.142037027, -14.500000035), (58.642037027, -16.000000035))
            Line((58.642037027, -16.000000035), (58.642037027, -19.000000035))
            ThreePointArc((58.642037027, -19.000000035), (57.142037027, -20.500000035), (55.642037027, -19.000000035))
        make_face()
        with BuildLine():
            Line((55.642037027, 19.000000035), (55.642037027, 16.000000035))
            ThreePointArc((55.642037027, 16.000000035), (57.142037027, 14.500000035), (58.642037027, 16.000000035))
            Line((58.642037027, 16.000000035), (58.642037027, 19.000000035))
            ThreePointArc((58.642037027, 19.000000035), (57.142037027, 20.500000035), (55.642037027, 19.000000035))
        make_face()
        with BuildLine():
            Line((50.642037027, 19.000000035), (50.642037027, 16.000000035))
            ThreePointArc((50.642037027, 16.000000035), (52.142037027, 14.500000035), (53.642037027, 16.000000035))
            Line((53.642037027, 16.000000035), (53.642037027, 19.000000035))
            ThreePointArc((53.642037027, 19.000000035), (52.142037027, 20.500000035), (50.642037027, 19.000000035))
        make_face()
    extrude(amount=-CUT_EXTRUDE_19_DEPTH, mode=Mode.SUBTRACT)

    # 圓角1
    fillet_1_edges = [part.edges().sort_by_distance(p)[0] for p in [
        (21.734367826, 1.5, 83.5),
        (-50.265632174, 1.5, 83.5),
        (-50.265632174, 1.5, 53.5),
        (-50.265632174, 1.5, -53.5),
        (-50.265632174, 1.5, -83.5),
        (21.734367826, 1.5, -83.5),
    ]]
    fillet(fillet_1_edges, radius=FILLET_1_R)

    # 草圖14 → 除料-伸長21 (cut)
    with BuildSketch(Plane(origin=(0, 3, 0), x_dir=(1, 0, 0), z_dir=(0, 1, 0))):
        with Locations(Location((91.099215454, 14.5, 0), (0, 0, 270))):
            Circle(SKETCH_14_R)
        with Locations(Location((91.099215454, -14.5, 0), (0, 0, 270))):
            Circle(SKETCH_14_R)
        with Locations(Location((68.099215454, -14.5, 0), (0, 0, 270))):
            Circle(SKETCH_14_R)
    extrude(amount=-CUT_EXTRUDE_21_DEPTH, mode=Mode.SUBTRACT)


solid = part.part
